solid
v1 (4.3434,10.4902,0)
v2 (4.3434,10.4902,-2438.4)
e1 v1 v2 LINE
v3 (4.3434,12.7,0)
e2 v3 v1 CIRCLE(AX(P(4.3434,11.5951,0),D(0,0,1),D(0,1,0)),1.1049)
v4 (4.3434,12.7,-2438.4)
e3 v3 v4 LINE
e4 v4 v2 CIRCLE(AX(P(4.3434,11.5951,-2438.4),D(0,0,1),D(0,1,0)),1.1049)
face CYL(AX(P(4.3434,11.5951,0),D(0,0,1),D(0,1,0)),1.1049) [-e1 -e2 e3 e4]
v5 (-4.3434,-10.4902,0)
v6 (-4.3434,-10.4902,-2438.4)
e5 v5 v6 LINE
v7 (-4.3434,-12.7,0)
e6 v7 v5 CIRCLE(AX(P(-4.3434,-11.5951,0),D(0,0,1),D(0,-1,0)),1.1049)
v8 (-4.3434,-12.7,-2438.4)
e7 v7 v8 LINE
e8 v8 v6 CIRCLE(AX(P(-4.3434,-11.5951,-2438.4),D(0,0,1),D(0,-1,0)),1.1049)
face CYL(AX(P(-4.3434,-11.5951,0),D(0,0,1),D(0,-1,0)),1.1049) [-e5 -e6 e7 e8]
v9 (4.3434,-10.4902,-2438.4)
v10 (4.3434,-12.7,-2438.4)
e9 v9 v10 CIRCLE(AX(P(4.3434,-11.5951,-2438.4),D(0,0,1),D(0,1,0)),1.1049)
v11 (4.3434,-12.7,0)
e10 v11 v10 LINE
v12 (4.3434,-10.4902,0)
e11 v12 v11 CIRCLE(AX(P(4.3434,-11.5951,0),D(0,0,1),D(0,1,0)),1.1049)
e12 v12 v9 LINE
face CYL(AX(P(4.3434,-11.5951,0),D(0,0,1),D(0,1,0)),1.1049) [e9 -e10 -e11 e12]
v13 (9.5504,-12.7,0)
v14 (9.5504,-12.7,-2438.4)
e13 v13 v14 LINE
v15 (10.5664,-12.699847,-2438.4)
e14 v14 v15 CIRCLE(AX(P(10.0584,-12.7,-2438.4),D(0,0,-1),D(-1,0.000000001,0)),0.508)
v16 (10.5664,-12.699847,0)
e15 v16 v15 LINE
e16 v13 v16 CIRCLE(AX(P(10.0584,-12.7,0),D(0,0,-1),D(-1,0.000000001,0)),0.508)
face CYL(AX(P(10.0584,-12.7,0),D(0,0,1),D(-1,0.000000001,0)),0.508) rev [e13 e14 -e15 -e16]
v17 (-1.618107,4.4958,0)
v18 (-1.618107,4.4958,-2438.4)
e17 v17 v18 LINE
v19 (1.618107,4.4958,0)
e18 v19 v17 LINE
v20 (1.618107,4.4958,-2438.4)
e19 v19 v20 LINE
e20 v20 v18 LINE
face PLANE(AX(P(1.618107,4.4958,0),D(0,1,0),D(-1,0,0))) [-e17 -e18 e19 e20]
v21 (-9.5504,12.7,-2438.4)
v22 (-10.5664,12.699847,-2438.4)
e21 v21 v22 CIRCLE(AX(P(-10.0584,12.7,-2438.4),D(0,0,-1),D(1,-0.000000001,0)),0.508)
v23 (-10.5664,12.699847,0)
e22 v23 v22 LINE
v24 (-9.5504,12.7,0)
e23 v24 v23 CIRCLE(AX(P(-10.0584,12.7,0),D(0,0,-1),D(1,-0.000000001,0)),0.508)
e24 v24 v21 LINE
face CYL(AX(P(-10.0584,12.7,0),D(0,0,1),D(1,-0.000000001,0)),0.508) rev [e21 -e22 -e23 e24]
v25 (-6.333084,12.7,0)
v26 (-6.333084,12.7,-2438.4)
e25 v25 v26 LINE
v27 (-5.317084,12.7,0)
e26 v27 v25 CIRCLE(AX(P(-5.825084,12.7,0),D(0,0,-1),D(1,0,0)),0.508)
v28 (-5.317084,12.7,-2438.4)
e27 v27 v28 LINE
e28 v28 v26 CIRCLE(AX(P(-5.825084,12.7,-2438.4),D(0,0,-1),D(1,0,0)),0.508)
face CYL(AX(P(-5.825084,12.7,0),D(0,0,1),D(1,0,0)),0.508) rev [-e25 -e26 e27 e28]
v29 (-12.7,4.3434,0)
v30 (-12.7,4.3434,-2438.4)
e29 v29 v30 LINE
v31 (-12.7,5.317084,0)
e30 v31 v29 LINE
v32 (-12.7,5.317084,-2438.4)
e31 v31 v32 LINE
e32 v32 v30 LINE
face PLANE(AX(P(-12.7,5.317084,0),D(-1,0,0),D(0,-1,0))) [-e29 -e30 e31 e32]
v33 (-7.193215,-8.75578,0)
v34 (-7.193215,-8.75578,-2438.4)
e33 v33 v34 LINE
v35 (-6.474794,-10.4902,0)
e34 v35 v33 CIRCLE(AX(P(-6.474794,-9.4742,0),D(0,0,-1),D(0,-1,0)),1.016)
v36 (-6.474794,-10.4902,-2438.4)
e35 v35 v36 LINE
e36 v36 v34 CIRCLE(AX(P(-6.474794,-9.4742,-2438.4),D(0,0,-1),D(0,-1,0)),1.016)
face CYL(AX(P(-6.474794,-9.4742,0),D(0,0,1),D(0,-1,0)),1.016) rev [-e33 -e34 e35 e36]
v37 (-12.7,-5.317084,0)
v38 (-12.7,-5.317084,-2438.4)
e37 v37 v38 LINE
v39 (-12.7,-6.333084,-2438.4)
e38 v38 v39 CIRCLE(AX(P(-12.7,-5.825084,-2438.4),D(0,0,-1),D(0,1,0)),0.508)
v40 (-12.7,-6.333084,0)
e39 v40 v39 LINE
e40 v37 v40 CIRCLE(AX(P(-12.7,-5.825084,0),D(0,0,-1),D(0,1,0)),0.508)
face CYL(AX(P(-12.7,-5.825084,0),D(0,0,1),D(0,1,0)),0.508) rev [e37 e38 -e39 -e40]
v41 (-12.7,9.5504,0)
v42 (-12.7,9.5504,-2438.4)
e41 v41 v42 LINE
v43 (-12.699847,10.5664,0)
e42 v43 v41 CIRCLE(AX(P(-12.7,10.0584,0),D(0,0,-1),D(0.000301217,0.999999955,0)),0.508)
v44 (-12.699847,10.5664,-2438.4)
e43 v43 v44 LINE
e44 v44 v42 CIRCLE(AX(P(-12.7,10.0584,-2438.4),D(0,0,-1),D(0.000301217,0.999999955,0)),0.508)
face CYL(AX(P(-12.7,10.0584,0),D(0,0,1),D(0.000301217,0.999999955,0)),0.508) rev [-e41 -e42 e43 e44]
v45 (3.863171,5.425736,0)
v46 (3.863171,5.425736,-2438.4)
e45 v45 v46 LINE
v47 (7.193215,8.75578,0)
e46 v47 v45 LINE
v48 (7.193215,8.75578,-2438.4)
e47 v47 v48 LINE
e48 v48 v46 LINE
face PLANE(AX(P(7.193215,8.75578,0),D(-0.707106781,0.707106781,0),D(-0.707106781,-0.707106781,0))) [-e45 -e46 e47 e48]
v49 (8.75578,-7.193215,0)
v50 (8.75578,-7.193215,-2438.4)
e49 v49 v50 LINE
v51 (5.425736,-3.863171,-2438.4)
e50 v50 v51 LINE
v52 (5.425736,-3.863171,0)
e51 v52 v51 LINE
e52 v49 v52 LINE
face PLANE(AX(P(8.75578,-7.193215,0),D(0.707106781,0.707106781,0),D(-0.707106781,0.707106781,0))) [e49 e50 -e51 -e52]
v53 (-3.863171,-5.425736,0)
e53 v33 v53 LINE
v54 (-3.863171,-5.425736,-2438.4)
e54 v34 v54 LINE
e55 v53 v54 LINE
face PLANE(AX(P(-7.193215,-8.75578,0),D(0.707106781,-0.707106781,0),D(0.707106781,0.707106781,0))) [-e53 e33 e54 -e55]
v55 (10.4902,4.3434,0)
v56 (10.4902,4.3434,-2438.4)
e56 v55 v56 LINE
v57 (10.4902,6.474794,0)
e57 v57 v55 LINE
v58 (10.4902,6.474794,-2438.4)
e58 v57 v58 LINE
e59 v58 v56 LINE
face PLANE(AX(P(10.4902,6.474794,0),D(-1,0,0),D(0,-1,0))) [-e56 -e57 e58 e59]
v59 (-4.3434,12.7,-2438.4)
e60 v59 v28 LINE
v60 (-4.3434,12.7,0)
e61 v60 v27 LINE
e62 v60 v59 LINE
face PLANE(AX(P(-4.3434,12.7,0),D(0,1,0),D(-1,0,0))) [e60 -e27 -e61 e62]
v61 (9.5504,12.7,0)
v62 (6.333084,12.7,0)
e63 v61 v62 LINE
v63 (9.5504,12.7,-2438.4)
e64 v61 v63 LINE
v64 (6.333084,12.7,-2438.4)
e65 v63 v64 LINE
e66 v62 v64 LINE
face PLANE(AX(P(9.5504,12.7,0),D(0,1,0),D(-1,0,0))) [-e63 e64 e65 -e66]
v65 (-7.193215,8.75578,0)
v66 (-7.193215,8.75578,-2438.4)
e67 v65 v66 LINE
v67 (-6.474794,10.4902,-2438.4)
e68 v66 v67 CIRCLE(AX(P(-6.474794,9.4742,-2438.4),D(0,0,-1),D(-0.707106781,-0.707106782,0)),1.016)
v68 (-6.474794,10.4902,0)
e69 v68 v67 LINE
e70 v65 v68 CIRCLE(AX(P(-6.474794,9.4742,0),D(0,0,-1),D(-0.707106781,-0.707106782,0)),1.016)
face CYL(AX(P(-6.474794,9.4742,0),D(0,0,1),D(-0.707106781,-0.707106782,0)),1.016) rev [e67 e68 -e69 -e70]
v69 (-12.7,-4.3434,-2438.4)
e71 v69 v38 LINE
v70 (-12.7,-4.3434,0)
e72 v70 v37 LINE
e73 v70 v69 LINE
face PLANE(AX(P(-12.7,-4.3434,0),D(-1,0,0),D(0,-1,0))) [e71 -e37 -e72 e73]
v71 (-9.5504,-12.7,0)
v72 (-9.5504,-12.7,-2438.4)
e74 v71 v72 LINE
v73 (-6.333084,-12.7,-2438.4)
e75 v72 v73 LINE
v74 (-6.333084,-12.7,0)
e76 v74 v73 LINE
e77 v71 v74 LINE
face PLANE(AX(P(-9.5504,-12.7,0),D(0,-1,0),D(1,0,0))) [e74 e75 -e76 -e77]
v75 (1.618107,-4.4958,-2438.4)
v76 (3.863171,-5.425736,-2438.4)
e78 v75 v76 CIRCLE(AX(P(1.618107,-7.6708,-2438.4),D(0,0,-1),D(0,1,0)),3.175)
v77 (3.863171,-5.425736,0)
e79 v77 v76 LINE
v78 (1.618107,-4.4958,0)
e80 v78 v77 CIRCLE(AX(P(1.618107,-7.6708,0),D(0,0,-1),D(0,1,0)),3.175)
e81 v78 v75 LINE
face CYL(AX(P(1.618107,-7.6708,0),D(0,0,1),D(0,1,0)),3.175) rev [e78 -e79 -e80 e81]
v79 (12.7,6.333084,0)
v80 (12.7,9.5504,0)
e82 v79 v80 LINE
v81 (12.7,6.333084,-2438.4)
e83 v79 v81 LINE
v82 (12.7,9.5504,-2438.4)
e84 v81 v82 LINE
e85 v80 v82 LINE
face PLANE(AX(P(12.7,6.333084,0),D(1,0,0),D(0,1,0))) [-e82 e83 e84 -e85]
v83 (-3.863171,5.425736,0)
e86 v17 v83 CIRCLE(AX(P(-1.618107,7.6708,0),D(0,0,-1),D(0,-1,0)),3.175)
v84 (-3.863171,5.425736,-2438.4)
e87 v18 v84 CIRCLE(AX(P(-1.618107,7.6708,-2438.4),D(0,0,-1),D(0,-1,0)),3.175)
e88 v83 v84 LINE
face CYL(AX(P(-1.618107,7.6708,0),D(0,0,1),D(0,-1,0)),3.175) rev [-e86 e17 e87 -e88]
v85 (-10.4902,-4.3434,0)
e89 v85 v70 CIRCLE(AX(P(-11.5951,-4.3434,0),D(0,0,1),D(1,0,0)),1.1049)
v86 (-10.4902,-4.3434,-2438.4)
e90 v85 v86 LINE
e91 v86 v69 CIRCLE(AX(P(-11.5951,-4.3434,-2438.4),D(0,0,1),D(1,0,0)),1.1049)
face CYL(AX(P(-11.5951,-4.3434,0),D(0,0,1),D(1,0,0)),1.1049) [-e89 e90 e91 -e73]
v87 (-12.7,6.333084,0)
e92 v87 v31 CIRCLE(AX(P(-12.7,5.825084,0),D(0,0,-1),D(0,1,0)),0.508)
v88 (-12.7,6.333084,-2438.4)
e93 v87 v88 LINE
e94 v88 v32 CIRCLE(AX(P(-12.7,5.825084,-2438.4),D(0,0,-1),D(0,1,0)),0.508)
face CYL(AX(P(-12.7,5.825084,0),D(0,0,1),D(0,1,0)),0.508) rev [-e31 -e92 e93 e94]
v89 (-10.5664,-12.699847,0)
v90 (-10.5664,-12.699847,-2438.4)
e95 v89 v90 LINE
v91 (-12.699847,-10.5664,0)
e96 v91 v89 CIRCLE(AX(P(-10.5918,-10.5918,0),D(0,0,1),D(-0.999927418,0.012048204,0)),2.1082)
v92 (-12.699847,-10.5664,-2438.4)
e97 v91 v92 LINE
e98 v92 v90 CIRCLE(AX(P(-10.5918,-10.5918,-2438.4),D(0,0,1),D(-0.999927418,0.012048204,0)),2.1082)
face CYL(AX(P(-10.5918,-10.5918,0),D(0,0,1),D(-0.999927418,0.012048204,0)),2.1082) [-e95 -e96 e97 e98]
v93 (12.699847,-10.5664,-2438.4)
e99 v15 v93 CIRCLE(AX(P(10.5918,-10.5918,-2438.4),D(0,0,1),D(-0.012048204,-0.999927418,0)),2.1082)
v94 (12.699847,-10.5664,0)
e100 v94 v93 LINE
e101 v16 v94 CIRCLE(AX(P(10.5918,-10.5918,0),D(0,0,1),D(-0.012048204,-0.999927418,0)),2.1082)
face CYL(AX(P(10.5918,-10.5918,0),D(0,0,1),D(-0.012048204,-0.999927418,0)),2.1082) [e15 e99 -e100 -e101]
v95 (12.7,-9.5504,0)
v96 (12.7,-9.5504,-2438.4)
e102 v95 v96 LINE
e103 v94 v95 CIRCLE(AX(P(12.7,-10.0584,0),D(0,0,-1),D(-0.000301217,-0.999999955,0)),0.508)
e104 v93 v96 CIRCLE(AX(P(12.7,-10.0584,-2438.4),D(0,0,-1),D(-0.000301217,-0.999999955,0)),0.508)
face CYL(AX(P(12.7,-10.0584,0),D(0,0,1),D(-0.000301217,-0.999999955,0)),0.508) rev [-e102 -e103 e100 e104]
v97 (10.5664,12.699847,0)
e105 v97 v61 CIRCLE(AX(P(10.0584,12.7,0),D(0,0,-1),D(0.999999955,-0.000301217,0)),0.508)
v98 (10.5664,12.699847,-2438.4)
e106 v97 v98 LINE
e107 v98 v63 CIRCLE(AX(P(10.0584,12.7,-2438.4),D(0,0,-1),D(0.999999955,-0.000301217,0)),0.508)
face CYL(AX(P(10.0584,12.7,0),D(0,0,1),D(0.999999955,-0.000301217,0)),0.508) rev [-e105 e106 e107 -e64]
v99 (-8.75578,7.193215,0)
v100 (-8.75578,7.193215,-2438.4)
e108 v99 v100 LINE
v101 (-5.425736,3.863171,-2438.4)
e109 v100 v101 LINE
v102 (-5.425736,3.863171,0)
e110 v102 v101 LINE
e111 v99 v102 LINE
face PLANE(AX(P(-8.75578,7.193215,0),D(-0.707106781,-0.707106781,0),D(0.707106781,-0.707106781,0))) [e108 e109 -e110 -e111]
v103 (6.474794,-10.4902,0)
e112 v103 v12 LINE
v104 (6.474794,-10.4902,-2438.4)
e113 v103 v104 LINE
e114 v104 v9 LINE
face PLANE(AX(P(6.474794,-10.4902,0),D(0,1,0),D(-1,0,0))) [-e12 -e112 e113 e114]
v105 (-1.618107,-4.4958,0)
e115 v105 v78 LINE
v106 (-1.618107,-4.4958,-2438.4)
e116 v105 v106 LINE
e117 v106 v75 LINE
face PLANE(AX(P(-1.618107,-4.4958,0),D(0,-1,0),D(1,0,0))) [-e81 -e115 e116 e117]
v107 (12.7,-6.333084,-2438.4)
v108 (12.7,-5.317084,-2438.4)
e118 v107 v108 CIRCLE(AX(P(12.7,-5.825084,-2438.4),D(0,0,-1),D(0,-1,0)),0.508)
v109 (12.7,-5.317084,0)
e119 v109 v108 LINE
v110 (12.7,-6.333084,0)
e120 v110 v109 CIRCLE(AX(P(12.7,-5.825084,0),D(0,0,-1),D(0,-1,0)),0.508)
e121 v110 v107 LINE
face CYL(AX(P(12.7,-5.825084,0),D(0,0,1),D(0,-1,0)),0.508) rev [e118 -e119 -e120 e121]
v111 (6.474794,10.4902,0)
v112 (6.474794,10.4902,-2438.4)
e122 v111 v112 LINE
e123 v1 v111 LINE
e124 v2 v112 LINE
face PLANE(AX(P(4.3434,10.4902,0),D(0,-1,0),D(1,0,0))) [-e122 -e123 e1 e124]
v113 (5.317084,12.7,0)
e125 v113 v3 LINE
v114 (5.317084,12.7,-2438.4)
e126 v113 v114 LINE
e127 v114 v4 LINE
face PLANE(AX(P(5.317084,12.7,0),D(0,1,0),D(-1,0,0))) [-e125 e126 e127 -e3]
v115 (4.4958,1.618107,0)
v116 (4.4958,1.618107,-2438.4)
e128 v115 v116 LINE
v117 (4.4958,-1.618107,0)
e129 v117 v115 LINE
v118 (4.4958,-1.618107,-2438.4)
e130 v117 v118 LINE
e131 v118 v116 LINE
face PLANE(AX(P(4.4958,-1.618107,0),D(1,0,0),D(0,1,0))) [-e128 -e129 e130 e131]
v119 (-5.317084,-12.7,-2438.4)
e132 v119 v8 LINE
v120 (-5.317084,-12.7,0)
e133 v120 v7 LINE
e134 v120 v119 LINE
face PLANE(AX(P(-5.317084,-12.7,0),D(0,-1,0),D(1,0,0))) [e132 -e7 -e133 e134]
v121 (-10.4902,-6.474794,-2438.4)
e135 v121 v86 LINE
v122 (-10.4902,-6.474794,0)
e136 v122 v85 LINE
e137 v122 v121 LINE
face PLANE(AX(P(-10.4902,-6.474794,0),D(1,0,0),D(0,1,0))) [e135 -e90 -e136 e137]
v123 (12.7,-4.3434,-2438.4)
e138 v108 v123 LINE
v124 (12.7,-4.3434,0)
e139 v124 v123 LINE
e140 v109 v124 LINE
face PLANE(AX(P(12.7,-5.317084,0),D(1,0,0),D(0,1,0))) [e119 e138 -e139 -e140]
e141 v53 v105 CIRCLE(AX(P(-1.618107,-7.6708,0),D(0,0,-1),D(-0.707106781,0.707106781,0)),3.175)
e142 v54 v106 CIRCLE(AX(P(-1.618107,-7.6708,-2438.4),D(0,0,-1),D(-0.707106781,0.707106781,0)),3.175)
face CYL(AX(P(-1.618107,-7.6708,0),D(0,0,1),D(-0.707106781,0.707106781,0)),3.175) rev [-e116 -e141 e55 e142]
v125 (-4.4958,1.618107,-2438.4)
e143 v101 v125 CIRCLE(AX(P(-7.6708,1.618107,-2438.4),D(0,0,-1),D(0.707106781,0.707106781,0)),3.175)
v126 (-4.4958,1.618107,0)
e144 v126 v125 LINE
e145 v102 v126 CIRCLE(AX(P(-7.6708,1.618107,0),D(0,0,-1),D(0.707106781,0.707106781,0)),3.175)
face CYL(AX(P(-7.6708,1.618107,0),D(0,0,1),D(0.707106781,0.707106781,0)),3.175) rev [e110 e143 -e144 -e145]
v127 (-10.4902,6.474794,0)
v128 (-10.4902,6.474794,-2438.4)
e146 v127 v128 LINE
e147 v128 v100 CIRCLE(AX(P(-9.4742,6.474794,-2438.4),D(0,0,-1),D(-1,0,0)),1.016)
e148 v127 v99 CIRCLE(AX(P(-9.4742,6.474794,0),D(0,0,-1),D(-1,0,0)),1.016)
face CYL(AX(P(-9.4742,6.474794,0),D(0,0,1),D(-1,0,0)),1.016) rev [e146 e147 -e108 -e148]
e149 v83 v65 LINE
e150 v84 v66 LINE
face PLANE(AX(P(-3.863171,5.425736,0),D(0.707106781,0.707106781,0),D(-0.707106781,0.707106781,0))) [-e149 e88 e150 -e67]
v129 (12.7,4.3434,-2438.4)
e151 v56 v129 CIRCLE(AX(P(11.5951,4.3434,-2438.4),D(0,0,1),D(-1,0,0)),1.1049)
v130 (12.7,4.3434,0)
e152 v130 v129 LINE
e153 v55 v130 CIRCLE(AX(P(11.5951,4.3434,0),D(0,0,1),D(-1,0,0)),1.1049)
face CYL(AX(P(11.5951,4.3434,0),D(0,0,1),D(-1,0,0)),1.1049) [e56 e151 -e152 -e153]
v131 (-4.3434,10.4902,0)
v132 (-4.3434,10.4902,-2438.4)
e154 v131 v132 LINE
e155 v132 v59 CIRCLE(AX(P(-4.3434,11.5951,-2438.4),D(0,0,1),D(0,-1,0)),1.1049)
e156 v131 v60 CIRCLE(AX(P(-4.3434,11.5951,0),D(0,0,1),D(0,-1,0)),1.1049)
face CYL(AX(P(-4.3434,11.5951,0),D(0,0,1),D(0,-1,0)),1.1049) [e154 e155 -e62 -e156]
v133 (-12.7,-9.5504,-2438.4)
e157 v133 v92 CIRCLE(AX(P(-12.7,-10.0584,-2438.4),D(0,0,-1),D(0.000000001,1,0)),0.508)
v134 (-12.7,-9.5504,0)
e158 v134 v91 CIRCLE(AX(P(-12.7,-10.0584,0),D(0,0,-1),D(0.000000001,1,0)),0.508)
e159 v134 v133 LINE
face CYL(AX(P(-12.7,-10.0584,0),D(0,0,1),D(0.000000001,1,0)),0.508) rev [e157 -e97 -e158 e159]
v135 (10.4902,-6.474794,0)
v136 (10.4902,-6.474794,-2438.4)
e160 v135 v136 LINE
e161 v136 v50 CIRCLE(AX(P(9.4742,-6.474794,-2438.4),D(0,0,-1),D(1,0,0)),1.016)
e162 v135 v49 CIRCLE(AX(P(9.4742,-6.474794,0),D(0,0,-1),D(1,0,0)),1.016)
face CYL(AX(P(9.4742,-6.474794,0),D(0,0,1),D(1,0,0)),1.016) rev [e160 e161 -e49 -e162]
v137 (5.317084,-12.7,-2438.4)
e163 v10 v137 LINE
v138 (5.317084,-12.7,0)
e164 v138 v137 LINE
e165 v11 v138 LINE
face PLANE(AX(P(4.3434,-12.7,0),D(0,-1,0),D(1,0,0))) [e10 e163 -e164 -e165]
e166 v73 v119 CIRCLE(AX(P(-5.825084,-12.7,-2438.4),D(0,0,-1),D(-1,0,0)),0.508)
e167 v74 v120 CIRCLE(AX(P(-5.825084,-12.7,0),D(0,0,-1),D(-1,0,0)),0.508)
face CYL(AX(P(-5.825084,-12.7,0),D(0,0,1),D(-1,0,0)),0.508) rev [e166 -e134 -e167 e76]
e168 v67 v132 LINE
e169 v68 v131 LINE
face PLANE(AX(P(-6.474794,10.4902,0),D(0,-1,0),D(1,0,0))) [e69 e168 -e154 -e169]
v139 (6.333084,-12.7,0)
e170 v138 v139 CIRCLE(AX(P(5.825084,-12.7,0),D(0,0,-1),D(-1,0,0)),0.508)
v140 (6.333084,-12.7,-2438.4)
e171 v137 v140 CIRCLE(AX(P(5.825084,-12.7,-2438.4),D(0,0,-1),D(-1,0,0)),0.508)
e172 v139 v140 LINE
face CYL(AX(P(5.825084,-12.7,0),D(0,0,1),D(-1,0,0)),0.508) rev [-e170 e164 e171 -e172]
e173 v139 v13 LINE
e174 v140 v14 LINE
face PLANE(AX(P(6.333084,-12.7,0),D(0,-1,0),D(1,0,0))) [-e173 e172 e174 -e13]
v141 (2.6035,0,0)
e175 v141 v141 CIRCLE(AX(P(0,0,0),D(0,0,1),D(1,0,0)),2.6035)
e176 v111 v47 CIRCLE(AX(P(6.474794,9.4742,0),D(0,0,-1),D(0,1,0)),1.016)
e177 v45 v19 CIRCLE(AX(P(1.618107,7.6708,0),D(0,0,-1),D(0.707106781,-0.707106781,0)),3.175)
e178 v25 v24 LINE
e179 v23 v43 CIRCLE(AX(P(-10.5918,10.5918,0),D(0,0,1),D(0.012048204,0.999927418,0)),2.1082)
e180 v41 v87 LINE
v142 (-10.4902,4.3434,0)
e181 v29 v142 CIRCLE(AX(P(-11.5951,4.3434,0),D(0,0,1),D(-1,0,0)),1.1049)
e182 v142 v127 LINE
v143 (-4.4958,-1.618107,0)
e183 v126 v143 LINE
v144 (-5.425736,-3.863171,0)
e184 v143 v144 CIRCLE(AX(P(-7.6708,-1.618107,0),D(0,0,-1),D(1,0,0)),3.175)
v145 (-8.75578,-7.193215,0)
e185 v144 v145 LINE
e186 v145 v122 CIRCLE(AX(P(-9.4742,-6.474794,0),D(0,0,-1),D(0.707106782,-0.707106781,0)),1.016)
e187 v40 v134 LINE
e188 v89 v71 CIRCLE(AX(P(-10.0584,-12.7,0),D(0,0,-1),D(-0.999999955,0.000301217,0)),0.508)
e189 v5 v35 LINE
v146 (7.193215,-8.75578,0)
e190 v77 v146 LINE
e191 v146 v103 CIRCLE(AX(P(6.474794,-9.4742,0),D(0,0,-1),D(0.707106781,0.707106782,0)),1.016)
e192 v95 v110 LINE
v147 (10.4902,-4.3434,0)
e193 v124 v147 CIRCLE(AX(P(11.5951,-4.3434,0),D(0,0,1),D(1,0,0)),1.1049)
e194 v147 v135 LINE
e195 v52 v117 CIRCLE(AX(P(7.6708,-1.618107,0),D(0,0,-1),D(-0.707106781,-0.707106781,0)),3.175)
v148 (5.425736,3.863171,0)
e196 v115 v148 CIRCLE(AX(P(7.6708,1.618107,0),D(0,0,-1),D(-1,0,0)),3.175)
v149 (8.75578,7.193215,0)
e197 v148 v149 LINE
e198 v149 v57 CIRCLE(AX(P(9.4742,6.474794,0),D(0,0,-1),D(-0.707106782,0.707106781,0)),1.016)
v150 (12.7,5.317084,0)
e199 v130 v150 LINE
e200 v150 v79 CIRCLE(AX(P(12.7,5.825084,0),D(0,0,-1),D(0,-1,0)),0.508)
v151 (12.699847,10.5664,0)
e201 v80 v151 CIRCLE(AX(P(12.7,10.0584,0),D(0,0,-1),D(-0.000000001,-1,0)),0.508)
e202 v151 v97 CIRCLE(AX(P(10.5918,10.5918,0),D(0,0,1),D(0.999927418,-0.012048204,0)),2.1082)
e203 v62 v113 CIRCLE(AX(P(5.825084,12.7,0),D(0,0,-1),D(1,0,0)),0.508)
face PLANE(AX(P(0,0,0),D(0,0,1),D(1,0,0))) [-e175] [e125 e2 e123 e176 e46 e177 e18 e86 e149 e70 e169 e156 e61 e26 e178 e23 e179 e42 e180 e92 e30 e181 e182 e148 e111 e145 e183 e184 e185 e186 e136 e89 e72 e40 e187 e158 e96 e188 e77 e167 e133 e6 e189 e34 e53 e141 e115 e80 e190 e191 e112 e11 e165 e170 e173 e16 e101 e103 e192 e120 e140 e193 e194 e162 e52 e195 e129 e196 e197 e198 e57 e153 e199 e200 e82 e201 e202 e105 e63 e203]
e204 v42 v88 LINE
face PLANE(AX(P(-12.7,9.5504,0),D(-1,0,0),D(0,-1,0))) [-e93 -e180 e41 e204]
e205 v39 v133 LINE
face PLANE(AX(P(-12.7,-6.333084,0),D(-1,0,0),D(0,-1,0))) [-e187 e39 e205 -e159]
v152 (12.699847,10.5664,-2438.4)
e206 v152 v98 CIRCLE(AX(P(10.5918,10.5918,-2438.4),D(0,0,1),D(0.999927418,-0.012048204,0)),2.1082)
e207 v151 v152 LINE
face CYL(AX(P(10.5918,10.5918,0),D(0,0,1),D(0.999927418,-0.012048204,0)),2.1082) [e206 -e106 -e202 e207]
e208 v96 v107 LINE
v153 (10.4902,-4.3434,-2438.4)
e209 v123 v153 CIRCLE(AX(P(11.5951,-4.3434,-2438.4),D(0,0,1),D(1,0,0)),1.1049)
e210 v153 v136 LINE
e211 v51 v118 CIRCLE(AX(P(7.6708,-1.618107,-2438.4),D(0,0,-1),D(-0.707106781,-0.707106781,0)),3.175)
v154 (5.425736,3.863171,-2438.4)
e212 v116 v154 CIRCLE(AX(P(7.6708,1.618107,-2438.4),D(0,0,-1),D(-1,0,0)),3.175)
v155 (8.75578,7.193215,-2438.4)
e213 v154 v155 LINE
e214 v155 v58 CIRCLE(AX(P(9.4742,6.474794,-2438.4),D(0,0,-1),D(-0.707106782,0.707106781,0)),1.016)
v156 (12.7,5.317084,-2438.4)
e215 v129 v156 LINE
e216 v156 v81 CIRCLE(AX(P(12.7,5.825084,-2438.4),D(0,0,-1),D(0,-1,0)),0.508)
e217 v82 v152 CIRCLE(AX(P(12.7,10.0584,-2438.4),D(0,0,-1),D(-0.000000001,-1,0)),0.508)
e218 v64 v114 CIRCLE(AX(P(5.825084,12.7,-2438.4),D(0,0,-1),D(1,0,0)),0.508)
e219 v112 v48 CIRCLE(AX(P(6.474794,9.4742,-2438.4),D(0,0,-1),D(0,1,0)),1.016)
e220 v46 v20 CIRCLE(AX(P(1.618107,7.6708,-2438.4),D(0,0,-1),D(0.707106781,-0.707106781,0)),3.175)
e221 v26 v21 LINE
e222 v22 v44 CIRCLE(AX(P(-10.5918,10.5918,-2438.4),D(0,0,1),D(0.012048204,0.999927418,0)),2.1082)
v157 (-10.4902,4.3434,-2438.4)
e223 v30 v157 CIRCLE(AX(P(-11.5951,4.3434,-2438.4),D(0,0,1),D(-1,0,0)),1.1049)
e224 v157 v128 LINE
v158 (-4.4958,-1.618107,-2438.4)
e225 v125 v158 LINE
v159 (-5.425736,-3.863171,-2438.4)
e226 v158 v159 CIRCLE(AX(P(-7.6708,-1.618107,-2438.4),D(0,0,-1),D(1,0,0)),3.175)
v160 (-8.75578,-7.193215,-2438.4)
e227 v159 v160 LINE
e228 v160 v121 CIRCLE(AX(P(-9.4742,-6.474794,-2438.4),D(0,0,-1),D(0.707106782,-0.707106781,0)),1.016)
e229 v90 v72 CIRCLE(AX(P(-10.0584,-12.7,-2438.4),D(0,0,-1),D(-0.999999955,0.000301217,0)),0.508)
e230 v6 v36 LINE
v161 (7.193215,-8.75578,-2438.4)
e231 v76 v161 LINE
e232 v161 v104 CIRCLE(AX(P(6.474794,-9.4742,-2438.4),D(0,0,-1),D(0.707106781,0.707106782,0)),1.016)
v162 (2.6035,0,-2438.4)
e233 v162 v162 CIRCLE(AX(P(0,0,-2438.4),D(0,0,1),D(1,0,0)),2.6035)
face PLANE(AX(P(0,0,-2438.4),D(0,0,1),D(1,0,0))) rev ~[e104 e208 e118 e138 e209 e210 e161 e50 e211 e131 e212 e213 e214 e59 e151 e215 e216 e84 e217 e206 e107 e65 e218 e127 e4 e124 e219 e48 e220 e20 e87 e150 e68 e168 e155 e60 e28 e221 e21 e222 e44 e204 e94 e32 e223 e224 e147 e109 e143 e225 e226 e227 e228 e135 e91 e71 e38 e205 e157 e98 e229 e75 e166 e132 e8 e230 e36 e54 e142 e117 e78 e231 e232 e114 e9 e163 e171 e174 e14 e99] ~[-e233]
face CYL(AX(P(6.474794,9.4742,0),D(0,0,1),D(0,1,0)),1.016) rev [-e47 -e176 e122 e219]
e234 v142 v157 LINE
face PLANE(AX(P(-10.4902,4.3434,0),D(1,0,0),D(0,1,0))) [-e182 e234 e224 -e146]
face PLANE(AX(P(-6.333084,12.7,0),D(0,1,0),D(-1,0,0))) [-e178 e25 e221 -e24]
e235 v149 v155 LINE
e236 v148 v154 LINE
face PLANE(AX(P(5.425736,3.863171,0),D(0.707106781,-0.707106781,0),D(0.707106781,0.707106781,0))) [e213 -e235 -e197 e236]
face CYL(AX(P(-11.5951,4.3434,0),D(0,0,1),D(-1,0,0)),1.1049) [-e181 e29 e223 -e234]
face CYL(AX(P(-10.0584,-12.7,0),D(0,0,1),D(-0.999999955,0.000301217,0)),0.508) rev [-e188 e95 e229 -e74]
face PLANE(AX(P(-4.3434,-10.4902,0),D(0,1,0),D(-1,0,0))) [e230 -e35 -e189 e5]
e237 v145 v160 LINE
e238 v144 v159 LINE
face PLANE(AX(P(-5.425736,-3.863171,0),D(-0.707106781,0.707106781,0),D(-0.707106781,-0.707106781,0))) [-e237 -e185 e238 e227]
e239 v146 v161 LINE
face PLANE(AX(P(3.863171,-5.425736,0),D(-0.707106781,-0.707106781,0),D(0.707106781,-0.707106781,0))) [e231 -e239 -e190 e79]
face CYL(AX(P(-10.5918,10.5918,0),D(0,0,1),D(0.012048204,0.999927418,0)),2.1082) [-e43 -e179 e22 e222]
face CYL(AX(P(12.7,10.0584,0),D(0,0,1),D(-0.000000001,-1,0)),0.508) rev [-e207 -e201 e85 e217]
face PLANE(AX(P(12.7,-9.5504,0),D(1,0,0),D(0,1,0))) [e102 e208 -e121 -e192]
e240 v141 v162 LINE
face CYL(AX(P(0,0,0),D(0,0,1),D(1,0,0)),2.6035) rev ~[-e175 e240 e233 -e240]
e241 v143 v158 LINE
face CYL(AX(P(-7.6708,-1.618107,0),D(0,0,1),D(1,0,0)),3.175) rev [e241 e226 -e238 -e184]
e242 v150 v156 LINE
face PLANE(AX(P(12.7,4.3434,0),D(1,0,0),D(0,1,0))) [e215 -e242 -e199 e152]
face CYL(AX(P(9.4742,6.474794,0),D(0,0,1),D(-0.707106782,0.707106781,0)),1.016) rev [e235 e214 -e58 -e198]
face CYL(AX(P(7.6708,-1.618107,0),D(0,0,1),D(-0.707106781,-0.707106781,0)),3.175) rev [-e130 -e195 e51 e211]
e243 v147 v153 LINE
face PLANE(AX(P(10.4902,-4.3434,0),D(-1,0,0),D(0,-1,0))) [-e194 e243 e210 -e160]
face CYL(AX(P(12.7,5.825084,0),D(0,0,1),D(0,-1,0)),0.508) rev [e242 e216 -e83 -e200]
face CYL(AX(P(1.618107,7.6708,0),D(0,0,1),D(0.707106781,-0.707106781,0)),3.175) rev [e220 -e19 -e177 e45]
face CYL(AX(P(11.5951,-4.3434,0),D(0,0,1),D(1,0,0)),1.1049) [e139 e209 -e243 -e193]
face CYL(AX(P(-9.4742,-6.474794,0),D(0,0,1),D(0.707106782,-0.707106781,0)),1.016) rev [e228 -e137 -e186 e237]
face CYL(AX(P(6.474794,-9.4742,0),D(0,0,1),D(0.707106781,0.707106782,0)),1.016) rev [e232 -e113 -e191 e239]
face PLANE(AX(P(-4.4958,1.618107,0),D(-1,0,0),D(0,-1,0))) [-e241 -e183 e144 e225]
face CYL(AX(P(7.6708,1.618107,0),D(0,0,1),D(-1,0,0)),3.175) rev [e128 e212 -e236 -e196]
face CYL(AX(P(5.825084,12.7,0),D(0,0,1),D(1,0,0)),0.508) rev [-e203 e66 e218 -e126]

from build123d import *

# Parameters (mm, degrees)
SKETCH1_R           = 2.6035
BOSS_EXTRUDE1_DEPTH = 2438.4


with BuildPart() as part:
    # Sketch1 → Boss-Extrude1 (new body)
    with BuildSketch(Plane.XY):
        with BuildLine():
            Line((-12.7, -6.3330836), (-12.7, -9.5504))
            ThreePointArc((-12.7, -9.5504), (-12.192000006, -10.058323491), (-12.699846982, -10.566399977))
            ThreePointArc((-12.699846982, -10.566399977), (-12.082522516, -12.082522516), (-10.566399977, -12.699846982))
            ThreePointArc((-10.566399977, -12.699846982), (-10.058323491, -12.192000006), (-9.5504, -12.7))
            Line((-9.5504, -12.7), (-6.3330836, -12.7))
            ThreePointArc((-6.3330836, -12.7), (-5.8250836, -12.192), (-5.3170836, -12.7))
            Line((-5.3170836, -12.7), (-4.343399971, -12.7))
            ThreePointArc((-4.343399971, -12.7), (-3.238499971, -11.5951), (-4.343399971, -10.4902))
            Line((-4.343399971, -10.4902), (-6.474794456, -10.4902))
            ThreePointArc((-6.474794456, -10.4902), (-7.413456061, -9.863006367), (-7.193214945, -8.75577951))
            Line((-7.193214945, -8.75577951), (-3.863171405, -5.42573597))
            ThreePointArc((-3.863171405, -5.42573597), (-2.833127272, -4.737482484), (-1.618107374, -4.4958))
            Line((-1.618107374, -4.4958), (1.618107374, -4.4958))
            ThreePointArc((1.618107374, -4.4958), (2.833127272, -4.737482484), (3.863171405, -5.42573597))
            Line((3.863171405, -5.42573597), (7.193214945, -8.75577951))
            ThreePointArc((7.193214945, -8.75577951), (7.413456061, -9.863006367), (6.474794456, -10.4902))
            Line((6.474794456, -10.4902), (4.3434, -10.4902))
            ThreePointArc((4.3434, -10.4902), (3.2385, -11.5951), (4.3434, -12.7))
            Line((4.3434, -12.7), (5.3170836, -12.7))
            ThreePointArc((5.3170836, -12.7), (5.8250836, -12.192), (6.3330836, -12.7))
            Line((6.3330836, -12.7), (9.5504, -12.7))
            ThreePointArc((9.5504, -12.7), (10.058323491, -12.192000006), (10.566399977, -12.699846982))
            ThreePointArc((10.566399977, -12.699846982), (12.082522516, -12.082522516), (12.699846982, -10.566399977))
            ThreePointArc((12.699846982, -10.566399977), (12.192000006, -10.058323491), (12.7, -9.5504))
            Line((12.7, -9.5504), (12.7, -6.3330836))
            ThreePointArc((12.7, -6.3330836), (12.192, -5.8250836), (12.7, -5.3170836))
            Line((12.7, -5.3170836), (12.7, -4.343399971))
            ThreePointArc((12.7, -4.343399971), (11.5951, -3.238499971), (10.4902, -4.343399971))
            Line((10.4902, -4.343399971), (10.4902, -6.474794456))
            ThreePointArc((10.4902, -6.474794456), (9.863006367, -7.413456061), (8.75577951, -7.193214945))
            Line((8.75577951, -7.193214945), (5.42573597, -3.863171405))
            ThreePointArc((5.42573597, -3.863171405), (4.737482484, -2.833127272), (4.4958, -1.618107374))
            Line((4.4958, -1.618107374), (4.4958, 1.618107374))
            ThreePointArc((4.4958, 1.618107374), (4.737482484, 2.833127272), (5.42573597, 3.863171405))
            Line((5.42573597, 3.863171405), (8.75577951, 7.193214945))
            ThreePointArc((8.75577951, 7.193214945), (9.863006367, 7.413456061), (10.4902, 6.474794456))
            Line((10.4902, 6.474794456), (10.4902, 4.3434))
            ThreePointArc((10.4902, 4.3434), (11.5951, 3.2385), (12.7, 4.3434))
            Line((12.7, 4.3434), (12.7, 5.3170836))
            ThreePointArc((12.7, 5.3170836), (12.192, 5.8250836), (12.7, 6.3330836))
            Line((12.7, 6.3330836), (12.7, 9.5504))
            ThreePointArc((12.7, 9.5504), (12.192000006, 10.058323491), (12.699846982, 10.566399977))
            ThreePointArc((12.699846982, 10.566399977), (12.082522516, 12.082522516), (10.566399977, 12.699846982))
            ThreePointArc((10.566399977, 12.699846982), (10.058323491, 12.192000006), (9.5504, 12.7))
            Line((9.5504, 12.7), (6.3330836, 12.7))
            ThreePointArc((6.3330836, 12.7), (5.8250836, 12.192), (5.3170836, 12.7))
            Line((5.3170836, 12.7), (4.343399971, 12.7))
            ThreePointArc((4.343399971, 12.7), (3.238499971, 11.5951), (4.343399971, 10.4902))
            Line((4.343399971, 10.4902), (6.474794456, 10.4902))
            ThreePointArc((6.474794456, 10.4902), (7.413456061, 9.863006367), (7.193214945, 8.75577951))
            Line((7.193214945, 8.75577951), (3.863171405, 5.42573597))
            ThreePointArc((3.863171405, 5.42573597), (2.833127272, 4.737482484), (1.618107374, 4.4958))
            Line((1.618107374, 4.4958), (-1.618107374, 4.4958))
            ThreePointArc((-1.618107374, 4.4958), (-2.833127272, 4.737482484), (-3.863171405, 5.42573597))
            Line((-3.863171405, 5.42573597), (-7.193214945, 8.75577951))
            ThreePointArc((-7.193214945, 8.75577951), (-7.413456061, 9.863006367), (-6.474794456, 10.4902))
            Line((-6.474794456, 10.4902), (-4.3434, 10.4902))
            ThreePointArc((-4.3434, 10.4902), (-3.2385, 11.5951), (-4.3434, 12.7))
            Line((-4.3434, 12.7), (-5.3170836, 12.7))
            ThreePointArc((-5.3170836, 12.7), (-5.8250836, 12.192), (-6.3330836, 12.7))
            Line((-6.3330836, 12.7), (-9.5504, 12.7))
            ThreePointArc((-9.5504, 12.7), (-10.058323491, 12.192000006), (-10.566399977, 12.699846982))
            ThreePointArc((-10.566399977, 12.699846982), (-12.082522516, 12.082522516), (-12.699846982, 10.566399977))
            ThreePointArc((-12.699846982, 10.566399977), (-12.192000006, 10.058323491), (-12.7, 9.5504))
            Line((-12.7, 9.5504), (-12.7, 6.3330836))
            ThreePointArc((-12.7, 6.3330836), (-12.192, 5.8250836), (-12.7, 5.3170836))
            Line((-12.7, 5.3170836), (-12.7, 4.343399971))
            ThreePointArc((-12.7, 4.343399971), (-11.5951, 3.238499971), (-10.4902, 4.343399971))
            Line((-10.4902, 4.343399971), (-10.4902, 6.474794456))
            ThreePointArc((-10.4902, 6.474794456), (-9.863006367, 7.413456061), (-8.75577951, 7.193214945))
            Line((-8.75577951, 7.193214945), (-5.42573597, 3.863171405))
            ThreePointArc((-5.42573597, 3.863171405), (-4.737482484, 2.833127272), (-4.4958, 1.618107374))
            Line((-4.4958, 1.618107374), (-4.4958, -1.618107374))
            ThreePointArc((-4.4958, -1.618107374), (-4.737482484, -2.833127272), (-5.42573597, -3.863171405))
            Line((-5.42573597, -3.863171405), (-8.75577951, -7.193214945))
            ThreePointArc((-8.75577951, -7.193214945), (-9.863006367, -7.413456061), (-10.4902, -6.474794456))
            Line((-10.4902, -6.474794456), (-10.4902, -4.3434))
            ThreePointArc((-10.4902, -4.3434), (-11.5951, -3.2385), (-12.7, -4.3434))
            Line((-12.7, -4.3434), (-12.7, -5.3170836))
            ThreePointArc((-12.7, -5.3170836), (-12.192, -5.8250836), (-12.7, -6.3330836))
        make_face()
        Circle(SKETCH1_R, mode=Mode.SUBTRACT)
    extrude(amount=-BOSS_EXTRUDE1_DEPTH)


solid = part.part
